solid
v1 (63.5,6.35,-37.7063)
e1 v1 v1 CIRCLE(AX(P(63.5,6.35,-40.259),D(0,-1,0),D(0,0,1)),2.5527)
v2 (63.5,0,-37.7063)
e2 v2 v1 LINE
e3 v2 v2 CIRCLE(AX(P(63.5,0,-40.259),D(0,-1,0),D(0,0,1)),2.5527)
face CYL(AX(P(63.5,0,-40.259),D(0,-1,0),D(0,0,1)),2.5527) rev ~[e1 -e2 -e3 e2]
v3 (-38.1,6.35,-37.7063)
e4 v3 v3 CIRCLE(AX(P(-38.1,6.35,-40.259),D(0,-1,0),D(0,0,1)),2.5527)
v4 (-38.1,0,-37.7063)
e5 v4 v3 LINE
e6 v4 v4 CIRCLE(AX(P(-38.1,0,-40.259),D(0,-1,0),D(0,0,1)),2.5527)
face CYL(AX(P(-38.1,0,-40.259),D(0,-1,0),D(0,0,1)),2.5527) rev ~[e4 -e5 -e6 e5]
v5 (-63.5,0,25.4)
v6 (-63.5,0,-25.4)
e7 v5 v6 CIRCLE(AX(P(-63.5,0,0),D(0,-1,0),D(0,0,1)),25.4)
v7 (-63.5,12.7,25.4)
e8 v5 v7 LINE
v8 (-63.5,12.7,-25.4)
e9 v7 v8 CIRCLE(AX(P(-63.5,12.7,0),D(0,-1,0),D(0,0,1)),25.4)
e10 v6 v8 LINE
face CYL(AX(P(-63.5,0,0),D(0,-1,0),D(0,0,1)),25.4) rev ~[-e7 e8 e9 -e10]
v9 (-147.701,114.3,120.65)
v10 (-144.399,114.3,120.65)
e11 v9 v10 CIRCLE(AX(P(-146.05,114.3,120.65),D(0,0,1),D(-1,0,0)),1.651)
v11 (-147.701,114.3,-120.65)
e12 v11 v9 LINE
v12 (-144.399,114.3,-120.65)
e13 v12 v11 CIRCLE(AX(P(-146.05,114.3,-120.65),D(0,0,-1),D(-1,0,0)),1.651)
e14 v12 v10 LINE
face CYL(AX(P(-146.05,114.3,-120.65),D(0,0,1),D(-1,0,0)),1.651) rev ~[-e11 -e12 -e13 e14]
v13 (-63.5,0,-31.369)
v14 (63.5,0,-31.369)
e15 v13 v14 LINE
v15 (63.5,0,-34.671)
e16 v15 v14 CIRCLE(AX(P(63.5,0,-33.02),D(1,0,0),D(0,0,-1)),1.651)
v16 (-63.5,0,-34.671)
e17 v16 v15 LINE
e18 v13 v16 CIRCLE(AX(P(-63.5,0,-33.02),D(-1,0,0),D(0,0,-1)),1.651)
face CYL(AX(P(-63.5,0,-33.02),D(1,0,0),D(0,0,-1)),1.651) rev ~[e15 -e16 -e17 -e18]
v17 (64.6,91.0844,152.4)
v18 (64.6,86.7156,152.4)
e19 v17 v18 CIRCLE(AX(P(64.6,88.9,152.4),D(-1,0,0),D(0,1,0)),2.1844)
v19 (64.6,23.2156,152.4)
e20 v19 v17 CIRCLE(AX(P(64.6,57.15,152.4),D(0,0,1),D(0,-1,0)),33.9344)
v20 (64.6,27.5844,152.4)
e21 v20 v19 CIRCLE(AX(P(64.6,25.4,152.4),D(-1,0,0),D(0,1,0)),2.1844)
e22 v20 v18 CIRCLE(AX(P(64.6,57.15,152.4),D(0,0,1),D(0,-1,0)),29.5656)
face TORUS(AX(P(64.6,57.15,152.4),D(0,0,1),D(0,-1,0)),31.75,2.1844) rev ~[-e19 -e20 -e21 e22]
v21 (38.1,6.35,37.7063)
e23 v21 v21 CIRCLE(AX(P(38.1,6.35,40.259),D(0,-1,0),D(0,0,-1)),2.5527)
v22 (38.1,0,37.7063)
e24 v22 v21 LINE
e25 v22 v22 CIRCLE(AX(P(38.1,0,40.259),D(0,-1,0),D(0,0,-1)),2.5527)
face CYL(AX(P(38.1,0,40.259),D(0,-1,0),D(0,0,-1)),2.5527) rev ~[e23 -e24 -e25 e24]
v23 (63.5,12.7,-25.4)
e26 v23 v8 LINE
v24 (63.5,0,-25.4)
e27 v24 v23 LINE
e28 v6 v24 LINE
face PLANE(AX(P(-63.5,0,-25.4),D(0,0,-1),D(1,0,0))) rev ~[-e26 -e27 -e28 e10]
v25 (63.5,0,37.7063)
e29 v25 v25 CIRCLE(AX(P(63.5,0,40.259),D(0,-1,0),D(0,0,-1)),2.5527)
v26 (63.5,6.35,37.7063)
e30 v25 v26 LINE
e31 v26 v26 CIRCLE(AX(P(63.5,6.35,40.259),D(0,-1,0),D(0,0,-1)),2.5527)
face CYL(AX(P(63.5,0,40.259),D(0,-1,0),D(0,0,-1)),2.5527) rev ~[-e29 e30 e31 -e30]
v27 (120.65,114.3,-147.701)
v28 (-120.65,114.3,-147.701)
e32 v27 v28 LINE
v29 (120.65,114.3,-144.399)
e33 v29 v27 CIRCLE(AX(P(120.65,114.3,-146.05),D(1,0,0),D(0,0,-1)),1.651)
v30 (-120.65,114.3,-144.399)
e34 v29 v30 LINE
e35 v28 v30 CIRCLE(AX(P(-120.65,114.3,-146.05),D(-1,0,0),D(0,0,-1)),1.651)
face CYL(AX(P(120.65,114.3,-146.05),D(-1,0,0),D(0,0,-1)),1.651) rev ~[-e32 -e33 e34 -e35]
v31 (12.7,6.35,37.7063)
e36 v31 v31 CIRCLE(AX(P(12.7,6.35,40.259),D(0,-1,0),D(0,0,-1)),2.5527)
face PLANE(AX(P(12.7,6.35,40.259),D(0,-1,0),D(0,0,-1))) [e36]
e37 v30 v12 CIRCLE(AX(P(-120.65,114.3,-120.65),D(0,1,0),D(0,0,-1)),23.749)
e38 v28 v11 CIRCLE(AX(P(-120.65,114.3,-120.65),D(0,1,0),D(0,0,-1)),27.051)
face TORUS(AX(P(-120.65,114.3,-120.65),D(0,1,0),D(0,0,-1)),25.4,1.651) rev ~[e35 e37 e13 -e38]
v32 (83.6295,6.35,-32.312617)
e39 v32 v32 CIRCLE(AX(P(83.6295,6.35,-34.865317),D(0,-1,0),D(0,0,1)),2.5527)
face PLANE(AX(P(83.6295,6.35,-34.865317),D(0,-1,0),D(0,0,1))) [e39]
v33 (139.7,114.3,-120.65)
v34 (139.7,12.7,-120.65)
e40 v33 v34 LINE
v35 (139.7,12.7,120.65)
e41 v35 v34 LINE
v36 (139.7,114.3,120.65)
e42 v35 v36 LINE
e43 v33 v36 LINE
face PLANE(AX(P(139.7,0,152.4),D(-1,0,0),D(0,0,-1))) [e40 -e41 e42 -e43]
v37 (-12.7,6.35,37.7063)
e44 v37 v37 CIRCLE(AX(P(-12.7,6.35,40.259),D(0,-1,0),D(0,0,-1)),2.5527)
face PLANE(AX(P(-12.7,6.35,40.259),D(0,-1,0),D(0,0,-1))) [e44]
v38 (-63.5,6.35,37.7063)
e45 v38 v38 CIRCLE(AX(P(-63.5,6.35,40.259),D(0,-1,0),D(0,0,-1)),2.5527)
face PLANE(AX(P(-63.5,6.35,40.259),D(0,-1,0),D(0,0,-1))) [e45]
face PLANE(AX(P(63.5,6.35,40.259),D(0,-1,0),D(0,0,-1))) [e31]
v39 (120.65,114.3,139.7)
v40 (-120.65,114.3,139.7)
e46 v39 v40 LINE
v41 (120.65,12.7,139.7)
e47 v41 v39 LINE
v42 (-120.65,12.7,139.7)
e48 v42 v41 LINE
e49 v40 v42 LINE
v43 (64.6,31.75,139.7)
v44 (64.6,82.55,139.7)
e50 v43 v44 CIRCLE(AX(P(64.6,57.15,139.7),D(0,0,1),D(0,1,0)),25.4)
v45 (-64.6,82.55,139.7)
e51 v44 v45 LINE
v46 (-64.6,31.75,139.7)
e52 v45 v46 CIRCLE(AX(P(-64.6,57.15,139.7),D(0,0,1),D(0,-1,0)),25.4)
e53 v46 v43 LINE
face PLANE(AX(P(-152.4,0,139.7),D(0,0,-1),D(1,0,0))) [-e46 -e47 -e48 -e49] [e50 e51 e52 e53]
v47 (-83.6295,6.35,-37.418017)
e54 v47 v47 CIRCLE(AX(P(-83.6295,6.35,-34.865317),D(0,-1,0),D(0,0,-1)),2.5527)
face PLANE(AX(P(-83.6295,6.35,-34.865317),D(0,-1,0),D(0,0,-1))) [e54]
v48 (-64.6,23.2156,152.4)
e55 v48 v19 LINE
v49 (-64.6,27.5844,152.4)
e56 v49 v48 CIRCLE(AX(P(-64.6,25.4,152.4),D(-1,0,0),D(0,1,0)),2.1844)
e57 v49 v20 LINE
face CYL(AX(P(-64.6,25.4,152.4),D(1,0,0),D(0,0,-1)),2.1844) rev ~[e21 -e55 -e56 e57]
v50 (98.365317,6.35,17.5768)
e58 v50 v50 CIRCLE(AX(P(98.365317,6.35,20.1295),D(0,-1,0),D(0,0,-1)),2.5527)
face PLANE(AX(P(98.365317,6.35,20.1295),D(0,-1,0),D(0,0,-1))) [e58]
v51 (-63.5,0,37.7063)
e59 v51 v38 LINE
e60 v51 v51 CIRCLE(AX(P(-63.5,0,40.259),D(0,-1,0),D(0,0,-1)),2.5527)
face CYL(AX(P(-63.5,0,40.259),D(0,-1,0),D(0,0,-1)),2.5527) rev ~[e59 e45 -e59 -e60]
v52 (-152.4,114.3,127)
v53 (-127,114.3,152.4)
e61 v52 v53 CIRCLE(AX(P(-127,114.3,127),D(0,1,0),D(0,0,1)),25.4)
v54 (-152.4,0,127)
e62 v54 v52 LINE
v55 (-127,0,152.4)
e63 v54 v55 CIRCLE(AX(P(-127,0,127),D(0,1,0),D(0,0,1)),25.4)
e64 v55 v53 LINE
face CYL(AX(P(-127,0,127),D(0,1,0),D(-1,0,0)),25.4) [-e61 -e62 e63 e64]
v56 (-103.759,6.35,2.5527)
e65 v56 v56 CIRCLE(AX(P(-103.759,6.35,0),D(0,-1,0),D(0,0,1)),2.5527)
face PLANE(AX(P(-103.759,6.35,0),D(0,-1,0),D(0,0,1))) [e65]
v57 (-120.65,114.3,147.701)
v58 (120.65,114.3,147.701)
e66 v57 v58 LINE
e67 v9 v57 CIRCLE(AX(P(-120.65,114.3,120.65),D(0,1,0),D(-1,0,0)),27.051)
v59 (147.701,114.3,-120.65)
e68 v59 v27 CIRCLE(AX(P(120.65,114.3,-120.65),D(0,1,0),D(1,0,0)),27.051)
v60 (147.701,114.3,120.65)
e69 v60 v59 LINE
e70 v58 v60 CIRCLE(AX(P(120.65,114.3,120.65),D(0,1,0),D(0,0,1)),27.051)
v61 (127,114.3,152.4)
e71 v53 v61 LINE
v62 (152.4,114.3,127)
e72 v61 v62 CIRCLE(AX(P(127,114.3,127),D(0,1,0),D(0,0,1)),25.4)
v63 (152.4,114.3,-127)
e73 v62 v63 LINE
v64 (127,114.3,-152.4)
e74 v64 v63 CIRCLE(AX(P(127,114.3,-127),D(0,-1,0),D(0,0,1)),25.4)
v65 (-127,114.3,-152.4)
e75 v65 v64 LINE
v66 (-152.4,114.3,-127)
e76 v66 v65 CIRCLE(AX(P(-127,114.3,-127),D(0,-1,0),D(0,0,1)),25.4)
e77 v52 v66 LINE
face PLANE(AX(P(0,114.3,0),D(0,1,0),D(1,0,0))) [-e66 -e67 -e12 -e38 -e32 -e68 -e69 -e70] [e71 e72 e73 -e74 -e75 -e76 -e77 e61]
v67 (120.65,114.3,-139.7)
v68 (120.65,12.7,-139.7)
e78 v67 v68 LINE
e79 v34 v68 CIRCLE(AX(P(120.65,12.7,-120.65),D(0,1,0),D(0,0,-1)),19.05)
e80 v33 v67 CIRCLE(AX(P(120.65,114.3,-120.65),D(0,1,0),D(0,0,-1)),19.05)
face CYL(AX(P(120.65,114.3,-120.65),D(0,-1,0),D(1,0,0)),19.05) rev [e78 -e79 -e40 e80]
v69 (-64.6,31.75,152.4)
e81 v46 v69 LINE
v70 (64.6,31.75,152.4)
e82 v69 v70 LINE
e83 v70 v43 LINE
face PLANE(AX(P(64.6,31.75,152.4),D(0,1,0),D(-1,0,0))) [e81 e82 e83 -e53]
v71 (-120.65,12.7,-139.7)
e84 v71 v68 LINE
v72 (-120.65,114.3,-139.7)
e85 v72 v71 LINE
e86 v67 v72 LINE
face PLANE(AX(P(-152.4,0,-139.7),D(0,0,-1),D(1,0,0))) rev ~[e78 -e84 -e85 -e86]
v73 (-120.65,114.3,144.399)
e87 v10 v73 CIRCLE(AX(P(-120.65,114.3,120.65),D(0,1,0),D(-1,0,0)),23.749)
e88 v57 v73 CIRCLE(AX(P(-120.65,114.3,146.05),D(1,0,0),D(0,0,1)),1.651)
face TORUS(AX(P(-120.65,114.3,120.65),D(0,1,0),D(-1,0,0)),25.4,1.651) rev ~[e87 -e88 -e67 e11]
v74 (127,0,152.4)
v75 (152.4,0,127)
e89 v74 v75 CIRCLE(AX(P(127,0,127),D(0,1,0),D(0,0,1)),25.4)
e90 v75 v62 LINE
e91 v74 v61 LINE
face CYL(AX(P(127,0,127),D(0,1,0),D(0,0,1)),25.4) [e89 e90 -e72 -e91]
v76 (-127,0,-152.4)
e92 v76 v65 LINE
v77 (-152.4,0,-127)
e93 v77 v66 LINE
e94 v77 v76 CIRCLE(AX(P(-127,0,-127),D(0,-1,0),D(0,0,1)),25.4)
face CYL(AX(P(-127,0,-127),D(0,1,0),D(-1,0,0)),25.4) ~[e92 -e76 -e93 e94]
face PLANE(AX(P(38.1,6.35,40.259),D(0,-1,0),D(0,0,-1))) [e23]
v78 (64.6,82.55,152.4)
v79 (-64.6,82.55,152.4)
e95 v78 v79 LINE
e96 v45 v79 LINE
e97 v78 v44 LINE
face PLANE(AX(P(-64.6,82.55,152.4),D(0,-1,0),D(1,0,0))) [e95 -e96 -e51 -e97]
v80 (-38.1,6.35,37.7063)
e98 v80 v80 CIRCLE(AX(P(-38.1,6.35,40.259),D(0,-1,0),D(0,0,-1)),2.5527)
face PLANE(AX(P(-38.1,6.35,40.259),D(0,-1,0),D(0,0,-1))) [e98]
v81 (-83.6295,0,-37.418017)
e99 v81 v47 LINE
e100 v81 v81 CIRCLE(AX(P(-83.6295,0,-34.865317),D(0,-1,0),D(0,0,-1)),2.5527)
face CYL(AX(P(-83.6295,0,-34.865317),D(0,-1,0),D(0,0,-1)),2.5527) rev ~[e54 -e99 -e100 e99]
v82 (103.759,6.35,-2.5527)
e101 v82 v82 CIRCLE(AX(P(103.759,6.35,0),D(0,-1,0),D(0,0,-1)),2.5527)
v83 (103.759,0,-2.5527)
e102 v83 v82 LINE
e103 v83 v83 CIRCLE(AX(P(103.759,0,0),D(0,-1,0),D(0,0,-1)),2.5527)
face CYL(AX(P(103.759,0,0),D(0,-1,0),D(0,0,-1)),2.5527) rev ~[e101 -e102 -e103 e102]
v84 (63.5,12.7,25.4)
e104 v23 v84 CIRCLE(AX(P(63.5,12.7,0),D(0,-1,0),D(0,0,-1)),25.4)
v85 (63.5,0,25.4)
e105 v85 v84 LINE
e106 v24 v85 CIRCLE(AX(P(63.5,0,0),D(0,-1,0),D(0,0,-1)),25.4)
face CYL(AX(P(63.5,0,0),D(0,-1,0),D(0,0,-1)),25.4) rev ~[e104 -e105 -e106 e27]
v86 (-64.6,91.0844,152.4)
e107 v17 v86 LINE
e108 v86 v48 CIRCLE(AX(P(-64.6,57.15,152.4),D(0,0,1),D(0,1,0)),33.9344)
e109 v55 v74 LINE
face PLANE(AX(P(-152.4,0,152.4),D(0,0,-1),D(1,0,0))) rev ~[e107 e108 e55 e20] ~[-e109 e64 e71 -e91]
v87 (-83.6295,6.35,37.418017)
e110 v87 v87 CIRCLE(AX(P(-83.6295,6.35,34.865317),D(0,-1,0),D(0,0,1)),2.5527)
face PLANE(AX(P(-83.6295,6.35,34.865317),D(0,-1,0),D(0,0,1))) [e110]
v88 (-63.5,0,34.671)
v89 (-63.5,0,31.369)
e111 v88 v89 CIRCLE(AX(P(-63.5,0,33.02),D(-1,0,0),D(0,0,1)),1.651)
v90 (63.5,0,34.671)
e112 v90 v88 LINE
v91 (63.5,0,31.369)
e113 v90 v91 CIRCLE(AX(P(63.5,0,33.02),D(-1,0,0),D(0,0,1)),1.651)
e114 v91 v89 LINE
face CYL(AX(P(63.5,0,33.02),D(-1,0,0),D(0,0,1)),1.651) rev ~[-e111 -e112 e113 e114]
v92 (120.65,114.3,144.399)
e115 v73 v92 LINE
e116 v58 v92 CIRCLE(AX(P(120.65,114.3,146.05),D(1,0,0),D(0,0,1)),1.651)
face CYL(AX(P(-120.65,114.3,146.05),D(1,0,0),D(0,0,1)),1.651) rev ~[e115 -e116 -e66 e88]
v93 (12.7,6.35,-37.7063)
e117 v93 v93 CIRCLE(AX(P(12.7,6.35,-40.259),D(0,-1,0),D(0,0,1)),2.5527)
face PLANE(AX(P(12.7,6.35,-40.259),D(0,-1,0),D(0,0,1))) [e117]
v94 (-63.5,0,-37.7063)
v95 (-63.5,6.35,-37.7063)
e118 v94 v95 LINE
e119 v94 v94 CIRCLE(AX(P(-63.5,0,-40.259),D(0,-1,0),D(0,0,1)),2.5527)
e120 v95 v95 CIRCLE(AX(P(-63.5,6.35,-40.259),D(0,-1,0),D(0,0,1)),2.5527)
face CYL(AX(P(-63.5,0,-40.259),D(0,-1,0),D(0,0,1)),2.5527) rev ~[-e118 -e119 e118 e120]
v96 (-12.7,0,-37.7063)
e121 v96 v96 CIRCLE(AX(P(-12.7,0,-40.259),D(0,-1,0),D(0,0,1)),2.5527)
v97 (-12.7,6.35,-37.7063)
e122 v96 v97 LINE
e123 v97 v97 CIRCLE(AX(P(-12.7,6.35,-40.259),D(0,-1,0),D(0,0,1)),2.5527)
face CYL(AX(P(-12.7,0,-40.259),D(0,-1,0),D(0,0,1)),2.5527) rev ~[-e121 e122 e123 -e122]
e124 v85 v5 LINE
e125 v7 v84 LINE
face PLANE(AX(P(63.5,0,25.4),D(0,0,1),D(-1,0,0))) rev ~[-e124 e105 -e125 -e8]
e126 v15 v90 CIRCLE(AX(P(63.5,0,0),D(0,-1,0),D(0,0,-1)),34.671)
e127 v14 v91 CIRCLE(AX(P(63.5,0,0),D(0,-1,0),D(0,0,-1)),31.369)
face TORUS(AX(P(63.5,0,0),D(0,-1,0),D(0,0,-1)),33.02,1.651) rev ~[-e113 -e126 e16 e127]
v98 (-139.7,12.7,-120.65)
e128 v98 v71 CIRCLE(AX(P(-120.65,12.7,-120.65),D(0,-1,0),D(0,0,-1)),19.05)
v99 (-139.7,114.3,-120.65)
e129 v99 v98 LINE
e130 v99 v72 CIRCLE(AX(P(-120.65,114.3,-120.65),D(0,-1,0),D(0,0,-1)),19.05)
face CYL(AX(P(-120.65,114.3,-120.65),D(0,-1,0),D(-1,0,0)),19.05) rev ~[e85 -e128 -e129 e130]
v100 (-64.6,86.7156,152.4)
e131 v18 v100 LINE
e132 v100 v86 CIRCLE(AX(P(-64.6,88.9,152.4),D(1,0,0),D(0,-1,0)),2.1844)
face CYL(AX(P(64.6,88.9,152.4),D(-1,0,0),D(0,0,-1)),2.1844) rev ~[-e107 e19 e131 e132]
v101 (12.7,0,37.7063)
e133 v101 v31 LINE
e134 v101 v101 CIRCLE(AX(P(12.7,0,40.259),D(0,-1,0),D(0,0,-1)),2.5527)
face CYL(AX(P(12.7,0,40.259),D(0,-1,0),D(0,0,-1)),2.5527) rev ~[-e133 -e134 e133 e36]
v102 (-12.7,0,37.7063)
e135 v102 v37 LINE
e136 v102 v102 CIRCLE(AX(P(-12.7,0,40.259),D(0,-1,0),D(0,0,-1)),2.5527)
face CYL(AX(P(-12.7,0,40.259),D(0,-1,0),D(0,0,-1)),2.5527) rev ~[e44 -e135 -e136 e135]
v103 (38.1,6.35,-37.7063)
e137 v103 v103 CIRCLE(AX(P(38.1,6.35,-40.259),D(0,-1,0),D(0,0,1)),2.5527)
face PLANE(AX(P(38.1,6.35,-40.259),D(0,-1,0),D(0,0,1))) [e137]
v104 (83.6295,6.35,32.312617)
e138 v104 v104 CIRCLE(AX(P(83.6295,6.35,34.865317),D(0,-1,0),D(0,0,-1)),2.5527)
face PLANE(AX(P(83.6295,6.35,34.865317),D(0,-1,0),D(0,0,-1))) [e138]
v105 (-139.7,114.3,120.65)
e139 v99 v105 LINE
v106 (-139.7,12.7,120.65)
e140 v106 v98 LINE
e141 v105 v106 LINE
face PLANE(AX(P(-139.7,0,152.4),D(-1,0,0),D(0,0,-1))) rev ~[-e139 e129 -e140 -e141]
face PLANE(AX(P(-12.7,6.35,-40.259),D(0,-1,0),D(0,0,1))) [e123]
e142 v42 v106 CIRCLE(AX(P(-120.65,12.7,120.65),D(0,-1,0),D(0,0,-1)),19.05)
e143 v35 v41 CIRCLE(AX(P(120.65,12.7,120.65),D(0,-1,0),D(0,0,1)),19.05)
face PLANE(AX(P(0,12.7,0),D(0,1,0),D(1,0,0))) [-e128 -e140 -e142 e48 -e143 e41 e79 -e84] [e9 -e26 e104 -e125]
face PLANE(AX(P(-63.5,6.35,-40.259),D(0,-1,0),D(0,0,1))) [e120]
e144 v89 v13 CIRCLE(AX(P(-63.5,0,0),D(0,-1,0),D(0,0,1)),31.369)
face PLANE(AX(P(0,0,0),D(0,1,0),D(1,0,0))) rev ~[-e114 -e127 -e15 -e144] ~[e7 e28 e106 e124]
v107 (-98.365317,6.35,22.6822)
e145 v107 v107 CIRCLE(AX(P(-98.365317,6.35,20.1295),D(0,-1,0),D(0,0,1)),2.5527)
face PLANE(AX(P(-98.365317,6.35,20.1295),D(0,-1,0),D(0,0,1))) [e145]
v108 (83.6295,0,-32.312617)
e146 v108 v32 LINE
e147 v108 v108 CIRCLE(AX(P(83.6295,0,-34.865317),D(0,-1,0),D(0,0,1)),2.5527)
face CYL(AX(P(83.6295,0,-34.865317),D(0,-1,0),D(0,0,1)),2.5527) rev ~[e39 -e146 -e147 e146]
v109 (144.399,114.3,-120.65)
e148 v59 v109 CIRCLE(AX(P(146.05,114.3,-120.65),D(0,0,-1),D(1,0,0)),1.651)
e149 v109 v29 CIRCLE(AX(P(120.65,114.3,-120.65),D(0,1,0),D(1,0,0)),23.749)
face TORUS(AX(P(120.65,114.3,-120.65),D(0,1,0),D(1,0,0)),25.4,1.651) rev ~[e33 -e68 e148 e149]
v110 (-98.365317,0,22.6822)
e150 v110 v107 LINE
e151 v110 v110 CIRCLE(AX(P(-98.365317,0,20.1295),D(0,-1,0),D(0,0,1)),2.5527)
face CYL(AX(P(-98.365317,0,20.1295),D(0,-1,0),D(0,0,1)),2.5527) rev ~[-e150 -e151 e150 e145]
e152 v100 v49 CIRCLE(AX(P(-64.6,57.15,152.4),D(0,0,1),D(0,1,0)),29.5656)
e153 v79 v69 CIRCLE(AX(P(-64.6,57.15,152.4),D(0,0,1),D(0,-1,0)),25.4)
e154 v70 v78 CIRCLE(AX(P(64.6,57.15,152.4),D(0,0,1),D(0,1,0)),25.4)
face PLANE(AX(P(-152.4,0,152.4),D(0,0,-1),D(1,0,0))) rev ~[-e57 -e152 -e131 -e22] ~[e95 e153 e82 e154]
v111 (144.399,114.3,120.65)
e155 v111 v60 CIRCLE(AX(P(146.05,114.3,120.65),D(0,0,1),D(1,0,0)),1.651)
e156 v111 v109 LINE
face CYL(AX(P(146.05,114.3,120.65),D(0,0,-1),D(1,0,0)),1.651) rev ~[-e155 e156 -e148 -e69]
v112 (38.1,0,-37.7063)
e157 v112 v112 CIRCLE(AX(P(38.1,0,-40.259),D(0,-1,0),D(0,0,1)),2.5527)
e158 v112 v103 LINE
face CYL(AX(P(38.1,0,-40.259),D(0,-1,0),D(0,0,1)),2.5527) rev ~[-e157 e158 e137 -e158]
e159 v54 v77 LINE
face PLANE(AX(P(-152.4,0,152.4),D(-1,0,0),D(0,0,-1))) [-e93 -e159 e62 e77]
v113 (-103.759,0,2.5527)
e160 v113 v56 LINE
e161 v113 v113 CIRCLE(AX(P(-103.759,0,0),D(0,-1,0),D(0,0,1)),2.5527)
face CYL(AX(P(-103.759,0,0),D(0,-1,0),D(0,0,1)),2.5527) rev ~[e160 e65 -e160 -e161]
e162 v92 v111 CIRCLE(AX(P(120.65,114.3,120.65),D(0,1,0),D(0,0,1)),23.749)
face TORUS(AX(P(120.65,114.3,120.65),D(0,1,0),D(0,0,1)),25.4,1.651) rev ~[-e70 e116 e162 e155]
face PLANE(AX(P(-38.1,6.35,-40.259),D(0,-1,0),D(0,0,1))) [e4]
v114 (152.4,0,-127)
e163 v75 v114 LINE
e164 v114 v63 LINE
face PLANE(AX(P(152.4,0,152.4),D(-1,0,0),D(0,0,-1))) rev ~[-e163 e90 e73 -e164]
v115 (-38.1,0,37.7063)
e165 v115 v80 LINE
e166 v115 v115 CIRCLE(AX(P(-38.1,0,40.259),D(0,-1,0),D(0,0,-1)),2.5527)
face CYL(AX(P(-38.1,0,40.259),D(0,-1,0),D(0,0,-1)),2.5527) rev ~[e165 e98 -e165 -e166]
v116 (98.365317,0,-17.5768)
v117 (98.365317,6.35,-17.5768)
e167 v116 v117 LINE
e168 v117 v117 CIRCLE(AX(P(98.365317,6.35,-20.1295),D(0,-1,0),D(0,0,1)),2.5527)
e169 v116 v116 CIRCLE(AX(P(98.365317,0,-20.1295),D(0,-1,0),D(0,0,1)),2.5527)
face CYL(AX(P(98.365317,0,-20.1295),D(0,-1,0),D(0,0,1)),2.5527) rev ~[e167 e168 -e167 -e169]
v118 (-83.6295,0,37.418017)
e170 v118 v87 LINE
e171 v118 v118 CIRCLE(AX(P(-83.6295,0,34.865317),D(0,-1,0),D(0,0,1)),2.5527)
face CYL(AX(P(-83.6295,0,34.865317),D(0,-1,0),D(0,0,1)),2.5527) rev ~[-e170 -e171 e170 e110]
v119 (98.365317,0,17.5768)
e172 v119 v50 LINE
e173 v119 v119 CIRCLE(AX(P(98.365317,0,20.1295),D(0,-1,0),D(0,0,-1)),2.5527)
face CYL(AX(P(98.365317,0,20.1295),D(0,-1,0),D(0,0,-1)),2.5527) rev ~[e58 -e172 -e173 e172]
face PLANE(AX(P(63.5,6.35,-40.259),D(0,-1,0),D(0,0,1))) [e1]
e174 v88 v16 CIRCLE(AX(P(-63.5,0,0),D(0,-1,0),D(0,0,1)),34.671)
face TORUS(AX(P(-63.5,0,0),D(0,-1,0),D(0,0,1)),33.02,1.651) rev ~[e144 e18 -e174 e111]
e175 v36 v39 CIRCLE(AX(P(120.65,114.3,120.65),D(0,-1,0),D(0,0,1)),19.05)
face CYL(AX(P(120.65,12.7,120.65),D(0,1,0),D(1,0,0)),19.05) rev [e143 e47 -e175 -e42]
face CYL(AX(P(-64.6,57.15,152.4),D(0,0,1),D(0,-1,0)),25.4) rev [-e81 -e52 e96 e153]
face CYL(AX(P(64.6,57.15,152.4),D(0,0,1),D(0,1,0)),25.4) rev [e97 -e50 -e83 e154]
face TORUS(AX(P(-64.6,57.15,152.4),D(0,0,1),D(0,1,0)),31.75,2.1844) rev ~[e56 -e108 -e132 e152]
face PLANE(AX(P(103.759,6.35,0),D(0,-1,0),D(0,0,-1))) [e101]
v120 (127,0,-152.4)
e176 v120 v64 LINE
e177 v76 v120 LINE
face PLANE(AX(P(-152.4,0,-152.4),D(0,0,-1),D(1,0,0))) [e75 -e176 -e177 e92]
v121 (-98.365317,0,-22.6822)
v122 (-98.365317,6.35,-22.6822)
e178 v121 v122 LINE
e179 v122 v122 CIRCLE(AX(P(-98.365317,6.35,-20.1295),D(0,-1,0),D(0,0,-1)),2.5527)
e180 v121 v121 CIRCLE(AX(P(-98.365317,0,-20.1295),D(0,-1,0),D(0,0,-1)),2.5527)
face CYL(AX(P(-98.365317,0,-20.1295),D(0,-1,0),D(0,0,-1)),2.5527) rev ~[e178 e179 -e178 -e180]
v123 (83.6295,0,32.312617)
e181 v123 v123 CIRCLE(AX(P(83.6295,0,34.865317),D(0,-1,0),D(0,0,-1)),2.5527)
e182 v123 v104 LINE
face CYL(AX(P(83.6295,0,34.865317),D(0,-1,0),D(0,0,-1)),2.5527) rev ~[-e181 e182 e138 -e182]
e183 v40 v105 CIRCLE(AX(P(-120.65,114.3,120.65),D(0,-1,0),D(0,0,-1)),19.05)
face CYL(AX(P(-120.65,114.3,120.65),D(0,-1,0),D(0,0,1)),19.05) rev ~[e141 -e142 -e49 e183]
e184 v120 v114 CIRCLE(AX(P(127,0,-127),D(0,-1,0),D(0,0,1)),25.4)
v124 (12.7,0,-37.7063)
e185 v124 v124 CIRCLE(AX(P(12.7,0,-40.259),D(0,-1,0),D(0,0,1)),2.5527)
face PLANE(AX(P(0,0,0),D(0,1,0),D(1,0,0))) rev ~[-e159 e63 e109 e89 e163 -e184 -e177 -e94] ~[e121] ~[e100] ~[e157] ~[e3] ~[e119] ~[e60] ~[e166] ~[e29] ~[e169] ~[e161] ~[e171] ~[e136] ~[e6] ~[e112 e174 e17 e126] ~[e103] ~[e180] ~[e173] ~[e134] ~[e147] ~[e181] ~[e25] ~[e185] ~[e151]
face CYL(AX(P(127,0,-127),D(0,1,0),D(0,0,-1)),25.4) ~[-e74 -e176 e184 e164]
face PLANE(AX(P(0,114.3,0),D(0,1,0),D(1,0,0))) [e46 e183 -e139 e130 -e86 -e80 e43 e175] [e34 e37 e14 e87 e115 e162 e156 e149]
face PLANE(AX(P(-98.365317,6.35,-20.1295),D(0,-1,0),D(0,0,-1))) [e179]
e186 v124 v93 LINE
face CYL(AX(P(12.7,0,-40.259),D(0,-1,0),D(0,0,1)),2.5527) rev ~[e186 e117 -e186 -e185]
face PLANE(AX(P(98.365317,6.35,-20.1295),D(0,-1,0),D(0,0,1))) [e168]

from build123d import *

# Parameters (mm, degrees)
SKETCH1_W           = 304.8
SKETCH1_H           = 304.8
BOSS_EXTRUDE1_DEPTH = 114.3
SHELL1_T            = -12.7
CUT_EXTRUDE1_DEPTH  = 21.51
SKETCH10_R          = 2.1844
CUT_EXTRUDE5_DEPTH  = 244.959033446
SKETCH16_R          = 1.651
SKETCH17_R          = 2.5527
CUT_EXTRUDE6_DEPTH  = 6.35
FILLET2_R           = 19.05
SKETCH21_R          = 1.651
FILLET3_R           = 25.4


with BuildPart() as part:
    # Sketch1 → Boss-Extrude1 (new body)
    with BuildSketch(Plane(origin=(0, 0, 0), x_dir=(1, 0, 0), z_dir=(0, 1, 0))):
        Rectangle(SKETCH1_W, SKETCH1_H)
    extrude(amount=BOSS_EXTRUDE1_DEPTH)

    # Shell1
    shell1_openings = [part.faces().sort_by_distance(p)[0] for p in [
        (0, 114.3, 0),
    ]]
    offset(amount=SHELL1_T, openings=shell1_openings, kind=Kind.INTERSECTION)

    # Sketch2 → Cut-Extrude1 (cut, symmetric)
    with BuildSketch(Plane.XY.offset(152.4)):
        with BuildLine():
            Line((-64.6, 82.55), (64.6, 82.55))
            ThreePointArc((64.6, 82.55), (90, 57.15), (64.6, 31.75))
            Line((64.6, 31.75), (-64.6, 31.75))
            ThreePointArc((-64.6, 31.75), (-90, 57.15), (-64.6, 82.55))
        make_face()
    extrude(amount=CUT_EXTRUDE1_DEPTH, both=True, mode=Mode.SUBTRACT)

    # Cut-Sweep1: sweep along a path in Sketch9
    with BuildLine(Plane.XY.offset(152.4)) as cut_sweep1_path:
        Line((64.6, 88.9), (-64.6, 88.9))
        ThreePointArc((-64.6, 88.9), (-96.35, 57.15), (-64.6, 25.4))
        Line((-64.6, 25.4), (64.6, 25.4))
        ThreePointArc((64.6, 25.4), (96.35, 57.15), (64.6, 88.9))
    # Sketch10 → Cut-Sweep1 (sweep, cut)
    with BuildSketch(Plane(origin=(0, 0, 0), x_dir=(0, 0, -1), z_dir=(1, 0, 0))):
        with Locations((-152.4, 88.9)):
            Circle(SKETCH10_R)
    sweep(path=cut_sweep1_path.line, mode=Mode.SUBTRACT)

    # Sketch13 → Cut-Extrude5 (cut, through all)
    with BuildSketch(Plane.XZ):
        with BuildLine():
            Line((-63.5, -25.4), (63.5, -25.4))
            ThreePointArc((63.5, -25.4), (88.9, 0), (63.5, 25.4))
            Line((63.5, 25.4), (-63.5, 25.4))
            ThreePointArc((-63.5, 25.4), (-88.9, 0), (-63.5, -25.4))
        make_face()
    extrude(amount=-CUT_EXTRUDE5_DEPTH, mode=Mode.SUBTRACT)

    # Cut-Sweep2: sweep along a path in Sketch14
    with BuildLine(Plane.XZ) as cut_sweep2_path:
        Line((63.5, 33.02), (-63.5, 33.02))
        ThreePointArc((-63.5, 33.02), (-96.52, 0), (-63.5, -33.02))
        Line((-63.5, -33.02), (63.5, -33.02))
        ThreePointArc((63.5, -33.02), (96.52, 0), (63.5, 33.02))
    # Sketch16 → Cut-Sweep2 (sweep, cut)
    with BuildSketch(Plane(origin=(0, 0, 0), x_dir=(0, 0, -1), z_dir=(1, 0, 0))):
        with Locations((33.02, 0)):
            Circle(SKETCH16_R)
    sweep(path=cut_sweep2_path.line, mode=Mode.SUBTRACT)

    # Sketch17 → Cut-Extrude6 (cut)
    with BuildSketch(Plane.XZ):
        with Locations(Location((63.5, 40.259, 0), (0, 0, 270))):
            Circle(SKETCH17_R)
        with Locations(Location((38.1, 40.259, 0), (0, 0, 270))):
            Circle(SKETCH17_R)
        with Locations(Location((12.7, 40.259, 0), (0, 0, 270))):
            Circle(SKETCH17_R)
        with Locations(Location((-12.7, 40.259, 0), (0, 0, 270))):
            Circle(SKETCH17_R)
        with Locations(Location((-38.1, 40.259, 0), (0, 0, 270))):
            Circle(SKETCH17_R)
        with Locations(Location((-63.5, 40.259, 0), (0, 0, 270))):
            Circle(SKETCH17_R)
        with Locations(Location((83.6295, 34.865316731, 0), (0, 0, 270))):
            Circle(SKETCH17_R)
        with Locations(Location((98.365316731, 20.1295, 0), (0, 0, 270))):
            Circle(SKETCH17_R)
        with Locations(Location((103.759, 0, 0), (0, 0, 270))):
            Circle(SKETCH17_R)
        with Locations(Location((-103.759, 0, 0), (0, 0, 90))):
            Circle(SKETCH17_R)
        with Locations(Location((-98.365316731, 20.1295, 0), (0, 0, 90))):
            Circle(SKETCH17_R)
        with Locations(Location((-83.6295, 34.865316731, 0), (0, 0, 90))):
            Circle(SKETCH17_R)
        with Locations(Location((98.365316731, -20.1295, 0), (0, 0, 90))):
            Circle(SKETCH17_R)
        with Locations(Location((83.6295, -34.865316731, 0), (0, 0, 90))):
            Circle(SKETCH17_R)
        with Locations(Location((63.5, -40.259, 0), (0, 0, 90))):
            Circle(SKETCH17_R)
        with Locations(Location((38.1, -40.259, 0), (0, 0, 90))):
            Circle(SKETCH17_R)
        with Locations(Location((12.7, -40.259, 0), (0, 0, 90))):
            Circle(SKETCH17_R)
        with Locations(Location((-12.7, -40.259, 0), (0, 0, 90))):
            Circle(SKETCH17_R)
        with Locations(Location((-38.1, -40.259, 0), (0, 0, 90))):
            Circle(SKETCH17_R)
        with Locations(Location((-63.5, -40.259, 0), (0, 0, 90))):
            Circle(SKETCH17_R)
        with Locations(Location((-83.6295, -34.865316731, 0), (0, 0, 270))):
            Circle(SKETCH17_R)
        with Locations(Location((-98.365316731, -20.1295, 0), (0, 0, 270))):
            Circle(SKETCH17_R)
    extrude(amount=-CUT_EXTRUDE6_DEPTH, mode=Mode.SUBTRACT)

    # Fillet2
    fillet2_edges = [part.edges().sort_by_distance(p)[0] for p in [
        (-139.7, 63.5, 139.7),
        (139.7, 63.5, 139.7),
        (139.7, 63.5, -139.7),
        (-139.7, 63.5, -139.7),
    ]]
    fillet(fillet2_edges, radius=FILLET2_R)

    # Cut-Sweep4: sweep along a path in Sketch20
    with BuildLine(Plane(origin=(0, 114.3, 0), x_dir=(1, 0, 0), z_dir=(0, 1, 0))) as cut_sweep4_path:
        Line((-120.65, -146.05), (120.65, -146.05))
        ThreePointArc((120.65, -146.05), (138.610512242, -138.610512242), (146.05, -120.65))
        Line((146.05, -120.65), (146.05, 120.65))
        ThreePointArc((146.05, 120.65), (138.610512242, 138.610512242), (120.65, 146.05))
        Line((120.65, 146.05), (-120.65, 146.05))
        ThreePointArc((-120.65, 146.05), (-138.610512242, 138.610512242), (-146.05, 120.65))
        Line((-146.05, 120.65), (-146.05, -120.65))
        ThreePointArc((-146.05, -120.65), (-138.610512242, -138.610512242), (-120.65, -146.05))
    # Sketch21 → Cut-Sweep4 (sweep, cut)
    with BuildSketch(Plane(origin=(0, 0, 0), x_dir=(0, 0, -1), z_dir=(1, 0, 0))):
        with Locations((146.05, 114.3)):
            Circle(SKETCH21_R)
    sweep(path=cut_sweep4_path.line, mode=Mode.SUBTRACT)

    # Fillet3
    fillet3_edges = [part.edges().sort_by_distance(p)[0] for p in [
        (-152.4, 57.15, 152.4),
        (-152.4, 57.15, -152.4),
        (152.4, 57.15, -152.4),
        (152.4, 57.15, 152.4),
    ]]
    fillet(fillet3_edges, radius=FILLET3_R)


solid = part.part
